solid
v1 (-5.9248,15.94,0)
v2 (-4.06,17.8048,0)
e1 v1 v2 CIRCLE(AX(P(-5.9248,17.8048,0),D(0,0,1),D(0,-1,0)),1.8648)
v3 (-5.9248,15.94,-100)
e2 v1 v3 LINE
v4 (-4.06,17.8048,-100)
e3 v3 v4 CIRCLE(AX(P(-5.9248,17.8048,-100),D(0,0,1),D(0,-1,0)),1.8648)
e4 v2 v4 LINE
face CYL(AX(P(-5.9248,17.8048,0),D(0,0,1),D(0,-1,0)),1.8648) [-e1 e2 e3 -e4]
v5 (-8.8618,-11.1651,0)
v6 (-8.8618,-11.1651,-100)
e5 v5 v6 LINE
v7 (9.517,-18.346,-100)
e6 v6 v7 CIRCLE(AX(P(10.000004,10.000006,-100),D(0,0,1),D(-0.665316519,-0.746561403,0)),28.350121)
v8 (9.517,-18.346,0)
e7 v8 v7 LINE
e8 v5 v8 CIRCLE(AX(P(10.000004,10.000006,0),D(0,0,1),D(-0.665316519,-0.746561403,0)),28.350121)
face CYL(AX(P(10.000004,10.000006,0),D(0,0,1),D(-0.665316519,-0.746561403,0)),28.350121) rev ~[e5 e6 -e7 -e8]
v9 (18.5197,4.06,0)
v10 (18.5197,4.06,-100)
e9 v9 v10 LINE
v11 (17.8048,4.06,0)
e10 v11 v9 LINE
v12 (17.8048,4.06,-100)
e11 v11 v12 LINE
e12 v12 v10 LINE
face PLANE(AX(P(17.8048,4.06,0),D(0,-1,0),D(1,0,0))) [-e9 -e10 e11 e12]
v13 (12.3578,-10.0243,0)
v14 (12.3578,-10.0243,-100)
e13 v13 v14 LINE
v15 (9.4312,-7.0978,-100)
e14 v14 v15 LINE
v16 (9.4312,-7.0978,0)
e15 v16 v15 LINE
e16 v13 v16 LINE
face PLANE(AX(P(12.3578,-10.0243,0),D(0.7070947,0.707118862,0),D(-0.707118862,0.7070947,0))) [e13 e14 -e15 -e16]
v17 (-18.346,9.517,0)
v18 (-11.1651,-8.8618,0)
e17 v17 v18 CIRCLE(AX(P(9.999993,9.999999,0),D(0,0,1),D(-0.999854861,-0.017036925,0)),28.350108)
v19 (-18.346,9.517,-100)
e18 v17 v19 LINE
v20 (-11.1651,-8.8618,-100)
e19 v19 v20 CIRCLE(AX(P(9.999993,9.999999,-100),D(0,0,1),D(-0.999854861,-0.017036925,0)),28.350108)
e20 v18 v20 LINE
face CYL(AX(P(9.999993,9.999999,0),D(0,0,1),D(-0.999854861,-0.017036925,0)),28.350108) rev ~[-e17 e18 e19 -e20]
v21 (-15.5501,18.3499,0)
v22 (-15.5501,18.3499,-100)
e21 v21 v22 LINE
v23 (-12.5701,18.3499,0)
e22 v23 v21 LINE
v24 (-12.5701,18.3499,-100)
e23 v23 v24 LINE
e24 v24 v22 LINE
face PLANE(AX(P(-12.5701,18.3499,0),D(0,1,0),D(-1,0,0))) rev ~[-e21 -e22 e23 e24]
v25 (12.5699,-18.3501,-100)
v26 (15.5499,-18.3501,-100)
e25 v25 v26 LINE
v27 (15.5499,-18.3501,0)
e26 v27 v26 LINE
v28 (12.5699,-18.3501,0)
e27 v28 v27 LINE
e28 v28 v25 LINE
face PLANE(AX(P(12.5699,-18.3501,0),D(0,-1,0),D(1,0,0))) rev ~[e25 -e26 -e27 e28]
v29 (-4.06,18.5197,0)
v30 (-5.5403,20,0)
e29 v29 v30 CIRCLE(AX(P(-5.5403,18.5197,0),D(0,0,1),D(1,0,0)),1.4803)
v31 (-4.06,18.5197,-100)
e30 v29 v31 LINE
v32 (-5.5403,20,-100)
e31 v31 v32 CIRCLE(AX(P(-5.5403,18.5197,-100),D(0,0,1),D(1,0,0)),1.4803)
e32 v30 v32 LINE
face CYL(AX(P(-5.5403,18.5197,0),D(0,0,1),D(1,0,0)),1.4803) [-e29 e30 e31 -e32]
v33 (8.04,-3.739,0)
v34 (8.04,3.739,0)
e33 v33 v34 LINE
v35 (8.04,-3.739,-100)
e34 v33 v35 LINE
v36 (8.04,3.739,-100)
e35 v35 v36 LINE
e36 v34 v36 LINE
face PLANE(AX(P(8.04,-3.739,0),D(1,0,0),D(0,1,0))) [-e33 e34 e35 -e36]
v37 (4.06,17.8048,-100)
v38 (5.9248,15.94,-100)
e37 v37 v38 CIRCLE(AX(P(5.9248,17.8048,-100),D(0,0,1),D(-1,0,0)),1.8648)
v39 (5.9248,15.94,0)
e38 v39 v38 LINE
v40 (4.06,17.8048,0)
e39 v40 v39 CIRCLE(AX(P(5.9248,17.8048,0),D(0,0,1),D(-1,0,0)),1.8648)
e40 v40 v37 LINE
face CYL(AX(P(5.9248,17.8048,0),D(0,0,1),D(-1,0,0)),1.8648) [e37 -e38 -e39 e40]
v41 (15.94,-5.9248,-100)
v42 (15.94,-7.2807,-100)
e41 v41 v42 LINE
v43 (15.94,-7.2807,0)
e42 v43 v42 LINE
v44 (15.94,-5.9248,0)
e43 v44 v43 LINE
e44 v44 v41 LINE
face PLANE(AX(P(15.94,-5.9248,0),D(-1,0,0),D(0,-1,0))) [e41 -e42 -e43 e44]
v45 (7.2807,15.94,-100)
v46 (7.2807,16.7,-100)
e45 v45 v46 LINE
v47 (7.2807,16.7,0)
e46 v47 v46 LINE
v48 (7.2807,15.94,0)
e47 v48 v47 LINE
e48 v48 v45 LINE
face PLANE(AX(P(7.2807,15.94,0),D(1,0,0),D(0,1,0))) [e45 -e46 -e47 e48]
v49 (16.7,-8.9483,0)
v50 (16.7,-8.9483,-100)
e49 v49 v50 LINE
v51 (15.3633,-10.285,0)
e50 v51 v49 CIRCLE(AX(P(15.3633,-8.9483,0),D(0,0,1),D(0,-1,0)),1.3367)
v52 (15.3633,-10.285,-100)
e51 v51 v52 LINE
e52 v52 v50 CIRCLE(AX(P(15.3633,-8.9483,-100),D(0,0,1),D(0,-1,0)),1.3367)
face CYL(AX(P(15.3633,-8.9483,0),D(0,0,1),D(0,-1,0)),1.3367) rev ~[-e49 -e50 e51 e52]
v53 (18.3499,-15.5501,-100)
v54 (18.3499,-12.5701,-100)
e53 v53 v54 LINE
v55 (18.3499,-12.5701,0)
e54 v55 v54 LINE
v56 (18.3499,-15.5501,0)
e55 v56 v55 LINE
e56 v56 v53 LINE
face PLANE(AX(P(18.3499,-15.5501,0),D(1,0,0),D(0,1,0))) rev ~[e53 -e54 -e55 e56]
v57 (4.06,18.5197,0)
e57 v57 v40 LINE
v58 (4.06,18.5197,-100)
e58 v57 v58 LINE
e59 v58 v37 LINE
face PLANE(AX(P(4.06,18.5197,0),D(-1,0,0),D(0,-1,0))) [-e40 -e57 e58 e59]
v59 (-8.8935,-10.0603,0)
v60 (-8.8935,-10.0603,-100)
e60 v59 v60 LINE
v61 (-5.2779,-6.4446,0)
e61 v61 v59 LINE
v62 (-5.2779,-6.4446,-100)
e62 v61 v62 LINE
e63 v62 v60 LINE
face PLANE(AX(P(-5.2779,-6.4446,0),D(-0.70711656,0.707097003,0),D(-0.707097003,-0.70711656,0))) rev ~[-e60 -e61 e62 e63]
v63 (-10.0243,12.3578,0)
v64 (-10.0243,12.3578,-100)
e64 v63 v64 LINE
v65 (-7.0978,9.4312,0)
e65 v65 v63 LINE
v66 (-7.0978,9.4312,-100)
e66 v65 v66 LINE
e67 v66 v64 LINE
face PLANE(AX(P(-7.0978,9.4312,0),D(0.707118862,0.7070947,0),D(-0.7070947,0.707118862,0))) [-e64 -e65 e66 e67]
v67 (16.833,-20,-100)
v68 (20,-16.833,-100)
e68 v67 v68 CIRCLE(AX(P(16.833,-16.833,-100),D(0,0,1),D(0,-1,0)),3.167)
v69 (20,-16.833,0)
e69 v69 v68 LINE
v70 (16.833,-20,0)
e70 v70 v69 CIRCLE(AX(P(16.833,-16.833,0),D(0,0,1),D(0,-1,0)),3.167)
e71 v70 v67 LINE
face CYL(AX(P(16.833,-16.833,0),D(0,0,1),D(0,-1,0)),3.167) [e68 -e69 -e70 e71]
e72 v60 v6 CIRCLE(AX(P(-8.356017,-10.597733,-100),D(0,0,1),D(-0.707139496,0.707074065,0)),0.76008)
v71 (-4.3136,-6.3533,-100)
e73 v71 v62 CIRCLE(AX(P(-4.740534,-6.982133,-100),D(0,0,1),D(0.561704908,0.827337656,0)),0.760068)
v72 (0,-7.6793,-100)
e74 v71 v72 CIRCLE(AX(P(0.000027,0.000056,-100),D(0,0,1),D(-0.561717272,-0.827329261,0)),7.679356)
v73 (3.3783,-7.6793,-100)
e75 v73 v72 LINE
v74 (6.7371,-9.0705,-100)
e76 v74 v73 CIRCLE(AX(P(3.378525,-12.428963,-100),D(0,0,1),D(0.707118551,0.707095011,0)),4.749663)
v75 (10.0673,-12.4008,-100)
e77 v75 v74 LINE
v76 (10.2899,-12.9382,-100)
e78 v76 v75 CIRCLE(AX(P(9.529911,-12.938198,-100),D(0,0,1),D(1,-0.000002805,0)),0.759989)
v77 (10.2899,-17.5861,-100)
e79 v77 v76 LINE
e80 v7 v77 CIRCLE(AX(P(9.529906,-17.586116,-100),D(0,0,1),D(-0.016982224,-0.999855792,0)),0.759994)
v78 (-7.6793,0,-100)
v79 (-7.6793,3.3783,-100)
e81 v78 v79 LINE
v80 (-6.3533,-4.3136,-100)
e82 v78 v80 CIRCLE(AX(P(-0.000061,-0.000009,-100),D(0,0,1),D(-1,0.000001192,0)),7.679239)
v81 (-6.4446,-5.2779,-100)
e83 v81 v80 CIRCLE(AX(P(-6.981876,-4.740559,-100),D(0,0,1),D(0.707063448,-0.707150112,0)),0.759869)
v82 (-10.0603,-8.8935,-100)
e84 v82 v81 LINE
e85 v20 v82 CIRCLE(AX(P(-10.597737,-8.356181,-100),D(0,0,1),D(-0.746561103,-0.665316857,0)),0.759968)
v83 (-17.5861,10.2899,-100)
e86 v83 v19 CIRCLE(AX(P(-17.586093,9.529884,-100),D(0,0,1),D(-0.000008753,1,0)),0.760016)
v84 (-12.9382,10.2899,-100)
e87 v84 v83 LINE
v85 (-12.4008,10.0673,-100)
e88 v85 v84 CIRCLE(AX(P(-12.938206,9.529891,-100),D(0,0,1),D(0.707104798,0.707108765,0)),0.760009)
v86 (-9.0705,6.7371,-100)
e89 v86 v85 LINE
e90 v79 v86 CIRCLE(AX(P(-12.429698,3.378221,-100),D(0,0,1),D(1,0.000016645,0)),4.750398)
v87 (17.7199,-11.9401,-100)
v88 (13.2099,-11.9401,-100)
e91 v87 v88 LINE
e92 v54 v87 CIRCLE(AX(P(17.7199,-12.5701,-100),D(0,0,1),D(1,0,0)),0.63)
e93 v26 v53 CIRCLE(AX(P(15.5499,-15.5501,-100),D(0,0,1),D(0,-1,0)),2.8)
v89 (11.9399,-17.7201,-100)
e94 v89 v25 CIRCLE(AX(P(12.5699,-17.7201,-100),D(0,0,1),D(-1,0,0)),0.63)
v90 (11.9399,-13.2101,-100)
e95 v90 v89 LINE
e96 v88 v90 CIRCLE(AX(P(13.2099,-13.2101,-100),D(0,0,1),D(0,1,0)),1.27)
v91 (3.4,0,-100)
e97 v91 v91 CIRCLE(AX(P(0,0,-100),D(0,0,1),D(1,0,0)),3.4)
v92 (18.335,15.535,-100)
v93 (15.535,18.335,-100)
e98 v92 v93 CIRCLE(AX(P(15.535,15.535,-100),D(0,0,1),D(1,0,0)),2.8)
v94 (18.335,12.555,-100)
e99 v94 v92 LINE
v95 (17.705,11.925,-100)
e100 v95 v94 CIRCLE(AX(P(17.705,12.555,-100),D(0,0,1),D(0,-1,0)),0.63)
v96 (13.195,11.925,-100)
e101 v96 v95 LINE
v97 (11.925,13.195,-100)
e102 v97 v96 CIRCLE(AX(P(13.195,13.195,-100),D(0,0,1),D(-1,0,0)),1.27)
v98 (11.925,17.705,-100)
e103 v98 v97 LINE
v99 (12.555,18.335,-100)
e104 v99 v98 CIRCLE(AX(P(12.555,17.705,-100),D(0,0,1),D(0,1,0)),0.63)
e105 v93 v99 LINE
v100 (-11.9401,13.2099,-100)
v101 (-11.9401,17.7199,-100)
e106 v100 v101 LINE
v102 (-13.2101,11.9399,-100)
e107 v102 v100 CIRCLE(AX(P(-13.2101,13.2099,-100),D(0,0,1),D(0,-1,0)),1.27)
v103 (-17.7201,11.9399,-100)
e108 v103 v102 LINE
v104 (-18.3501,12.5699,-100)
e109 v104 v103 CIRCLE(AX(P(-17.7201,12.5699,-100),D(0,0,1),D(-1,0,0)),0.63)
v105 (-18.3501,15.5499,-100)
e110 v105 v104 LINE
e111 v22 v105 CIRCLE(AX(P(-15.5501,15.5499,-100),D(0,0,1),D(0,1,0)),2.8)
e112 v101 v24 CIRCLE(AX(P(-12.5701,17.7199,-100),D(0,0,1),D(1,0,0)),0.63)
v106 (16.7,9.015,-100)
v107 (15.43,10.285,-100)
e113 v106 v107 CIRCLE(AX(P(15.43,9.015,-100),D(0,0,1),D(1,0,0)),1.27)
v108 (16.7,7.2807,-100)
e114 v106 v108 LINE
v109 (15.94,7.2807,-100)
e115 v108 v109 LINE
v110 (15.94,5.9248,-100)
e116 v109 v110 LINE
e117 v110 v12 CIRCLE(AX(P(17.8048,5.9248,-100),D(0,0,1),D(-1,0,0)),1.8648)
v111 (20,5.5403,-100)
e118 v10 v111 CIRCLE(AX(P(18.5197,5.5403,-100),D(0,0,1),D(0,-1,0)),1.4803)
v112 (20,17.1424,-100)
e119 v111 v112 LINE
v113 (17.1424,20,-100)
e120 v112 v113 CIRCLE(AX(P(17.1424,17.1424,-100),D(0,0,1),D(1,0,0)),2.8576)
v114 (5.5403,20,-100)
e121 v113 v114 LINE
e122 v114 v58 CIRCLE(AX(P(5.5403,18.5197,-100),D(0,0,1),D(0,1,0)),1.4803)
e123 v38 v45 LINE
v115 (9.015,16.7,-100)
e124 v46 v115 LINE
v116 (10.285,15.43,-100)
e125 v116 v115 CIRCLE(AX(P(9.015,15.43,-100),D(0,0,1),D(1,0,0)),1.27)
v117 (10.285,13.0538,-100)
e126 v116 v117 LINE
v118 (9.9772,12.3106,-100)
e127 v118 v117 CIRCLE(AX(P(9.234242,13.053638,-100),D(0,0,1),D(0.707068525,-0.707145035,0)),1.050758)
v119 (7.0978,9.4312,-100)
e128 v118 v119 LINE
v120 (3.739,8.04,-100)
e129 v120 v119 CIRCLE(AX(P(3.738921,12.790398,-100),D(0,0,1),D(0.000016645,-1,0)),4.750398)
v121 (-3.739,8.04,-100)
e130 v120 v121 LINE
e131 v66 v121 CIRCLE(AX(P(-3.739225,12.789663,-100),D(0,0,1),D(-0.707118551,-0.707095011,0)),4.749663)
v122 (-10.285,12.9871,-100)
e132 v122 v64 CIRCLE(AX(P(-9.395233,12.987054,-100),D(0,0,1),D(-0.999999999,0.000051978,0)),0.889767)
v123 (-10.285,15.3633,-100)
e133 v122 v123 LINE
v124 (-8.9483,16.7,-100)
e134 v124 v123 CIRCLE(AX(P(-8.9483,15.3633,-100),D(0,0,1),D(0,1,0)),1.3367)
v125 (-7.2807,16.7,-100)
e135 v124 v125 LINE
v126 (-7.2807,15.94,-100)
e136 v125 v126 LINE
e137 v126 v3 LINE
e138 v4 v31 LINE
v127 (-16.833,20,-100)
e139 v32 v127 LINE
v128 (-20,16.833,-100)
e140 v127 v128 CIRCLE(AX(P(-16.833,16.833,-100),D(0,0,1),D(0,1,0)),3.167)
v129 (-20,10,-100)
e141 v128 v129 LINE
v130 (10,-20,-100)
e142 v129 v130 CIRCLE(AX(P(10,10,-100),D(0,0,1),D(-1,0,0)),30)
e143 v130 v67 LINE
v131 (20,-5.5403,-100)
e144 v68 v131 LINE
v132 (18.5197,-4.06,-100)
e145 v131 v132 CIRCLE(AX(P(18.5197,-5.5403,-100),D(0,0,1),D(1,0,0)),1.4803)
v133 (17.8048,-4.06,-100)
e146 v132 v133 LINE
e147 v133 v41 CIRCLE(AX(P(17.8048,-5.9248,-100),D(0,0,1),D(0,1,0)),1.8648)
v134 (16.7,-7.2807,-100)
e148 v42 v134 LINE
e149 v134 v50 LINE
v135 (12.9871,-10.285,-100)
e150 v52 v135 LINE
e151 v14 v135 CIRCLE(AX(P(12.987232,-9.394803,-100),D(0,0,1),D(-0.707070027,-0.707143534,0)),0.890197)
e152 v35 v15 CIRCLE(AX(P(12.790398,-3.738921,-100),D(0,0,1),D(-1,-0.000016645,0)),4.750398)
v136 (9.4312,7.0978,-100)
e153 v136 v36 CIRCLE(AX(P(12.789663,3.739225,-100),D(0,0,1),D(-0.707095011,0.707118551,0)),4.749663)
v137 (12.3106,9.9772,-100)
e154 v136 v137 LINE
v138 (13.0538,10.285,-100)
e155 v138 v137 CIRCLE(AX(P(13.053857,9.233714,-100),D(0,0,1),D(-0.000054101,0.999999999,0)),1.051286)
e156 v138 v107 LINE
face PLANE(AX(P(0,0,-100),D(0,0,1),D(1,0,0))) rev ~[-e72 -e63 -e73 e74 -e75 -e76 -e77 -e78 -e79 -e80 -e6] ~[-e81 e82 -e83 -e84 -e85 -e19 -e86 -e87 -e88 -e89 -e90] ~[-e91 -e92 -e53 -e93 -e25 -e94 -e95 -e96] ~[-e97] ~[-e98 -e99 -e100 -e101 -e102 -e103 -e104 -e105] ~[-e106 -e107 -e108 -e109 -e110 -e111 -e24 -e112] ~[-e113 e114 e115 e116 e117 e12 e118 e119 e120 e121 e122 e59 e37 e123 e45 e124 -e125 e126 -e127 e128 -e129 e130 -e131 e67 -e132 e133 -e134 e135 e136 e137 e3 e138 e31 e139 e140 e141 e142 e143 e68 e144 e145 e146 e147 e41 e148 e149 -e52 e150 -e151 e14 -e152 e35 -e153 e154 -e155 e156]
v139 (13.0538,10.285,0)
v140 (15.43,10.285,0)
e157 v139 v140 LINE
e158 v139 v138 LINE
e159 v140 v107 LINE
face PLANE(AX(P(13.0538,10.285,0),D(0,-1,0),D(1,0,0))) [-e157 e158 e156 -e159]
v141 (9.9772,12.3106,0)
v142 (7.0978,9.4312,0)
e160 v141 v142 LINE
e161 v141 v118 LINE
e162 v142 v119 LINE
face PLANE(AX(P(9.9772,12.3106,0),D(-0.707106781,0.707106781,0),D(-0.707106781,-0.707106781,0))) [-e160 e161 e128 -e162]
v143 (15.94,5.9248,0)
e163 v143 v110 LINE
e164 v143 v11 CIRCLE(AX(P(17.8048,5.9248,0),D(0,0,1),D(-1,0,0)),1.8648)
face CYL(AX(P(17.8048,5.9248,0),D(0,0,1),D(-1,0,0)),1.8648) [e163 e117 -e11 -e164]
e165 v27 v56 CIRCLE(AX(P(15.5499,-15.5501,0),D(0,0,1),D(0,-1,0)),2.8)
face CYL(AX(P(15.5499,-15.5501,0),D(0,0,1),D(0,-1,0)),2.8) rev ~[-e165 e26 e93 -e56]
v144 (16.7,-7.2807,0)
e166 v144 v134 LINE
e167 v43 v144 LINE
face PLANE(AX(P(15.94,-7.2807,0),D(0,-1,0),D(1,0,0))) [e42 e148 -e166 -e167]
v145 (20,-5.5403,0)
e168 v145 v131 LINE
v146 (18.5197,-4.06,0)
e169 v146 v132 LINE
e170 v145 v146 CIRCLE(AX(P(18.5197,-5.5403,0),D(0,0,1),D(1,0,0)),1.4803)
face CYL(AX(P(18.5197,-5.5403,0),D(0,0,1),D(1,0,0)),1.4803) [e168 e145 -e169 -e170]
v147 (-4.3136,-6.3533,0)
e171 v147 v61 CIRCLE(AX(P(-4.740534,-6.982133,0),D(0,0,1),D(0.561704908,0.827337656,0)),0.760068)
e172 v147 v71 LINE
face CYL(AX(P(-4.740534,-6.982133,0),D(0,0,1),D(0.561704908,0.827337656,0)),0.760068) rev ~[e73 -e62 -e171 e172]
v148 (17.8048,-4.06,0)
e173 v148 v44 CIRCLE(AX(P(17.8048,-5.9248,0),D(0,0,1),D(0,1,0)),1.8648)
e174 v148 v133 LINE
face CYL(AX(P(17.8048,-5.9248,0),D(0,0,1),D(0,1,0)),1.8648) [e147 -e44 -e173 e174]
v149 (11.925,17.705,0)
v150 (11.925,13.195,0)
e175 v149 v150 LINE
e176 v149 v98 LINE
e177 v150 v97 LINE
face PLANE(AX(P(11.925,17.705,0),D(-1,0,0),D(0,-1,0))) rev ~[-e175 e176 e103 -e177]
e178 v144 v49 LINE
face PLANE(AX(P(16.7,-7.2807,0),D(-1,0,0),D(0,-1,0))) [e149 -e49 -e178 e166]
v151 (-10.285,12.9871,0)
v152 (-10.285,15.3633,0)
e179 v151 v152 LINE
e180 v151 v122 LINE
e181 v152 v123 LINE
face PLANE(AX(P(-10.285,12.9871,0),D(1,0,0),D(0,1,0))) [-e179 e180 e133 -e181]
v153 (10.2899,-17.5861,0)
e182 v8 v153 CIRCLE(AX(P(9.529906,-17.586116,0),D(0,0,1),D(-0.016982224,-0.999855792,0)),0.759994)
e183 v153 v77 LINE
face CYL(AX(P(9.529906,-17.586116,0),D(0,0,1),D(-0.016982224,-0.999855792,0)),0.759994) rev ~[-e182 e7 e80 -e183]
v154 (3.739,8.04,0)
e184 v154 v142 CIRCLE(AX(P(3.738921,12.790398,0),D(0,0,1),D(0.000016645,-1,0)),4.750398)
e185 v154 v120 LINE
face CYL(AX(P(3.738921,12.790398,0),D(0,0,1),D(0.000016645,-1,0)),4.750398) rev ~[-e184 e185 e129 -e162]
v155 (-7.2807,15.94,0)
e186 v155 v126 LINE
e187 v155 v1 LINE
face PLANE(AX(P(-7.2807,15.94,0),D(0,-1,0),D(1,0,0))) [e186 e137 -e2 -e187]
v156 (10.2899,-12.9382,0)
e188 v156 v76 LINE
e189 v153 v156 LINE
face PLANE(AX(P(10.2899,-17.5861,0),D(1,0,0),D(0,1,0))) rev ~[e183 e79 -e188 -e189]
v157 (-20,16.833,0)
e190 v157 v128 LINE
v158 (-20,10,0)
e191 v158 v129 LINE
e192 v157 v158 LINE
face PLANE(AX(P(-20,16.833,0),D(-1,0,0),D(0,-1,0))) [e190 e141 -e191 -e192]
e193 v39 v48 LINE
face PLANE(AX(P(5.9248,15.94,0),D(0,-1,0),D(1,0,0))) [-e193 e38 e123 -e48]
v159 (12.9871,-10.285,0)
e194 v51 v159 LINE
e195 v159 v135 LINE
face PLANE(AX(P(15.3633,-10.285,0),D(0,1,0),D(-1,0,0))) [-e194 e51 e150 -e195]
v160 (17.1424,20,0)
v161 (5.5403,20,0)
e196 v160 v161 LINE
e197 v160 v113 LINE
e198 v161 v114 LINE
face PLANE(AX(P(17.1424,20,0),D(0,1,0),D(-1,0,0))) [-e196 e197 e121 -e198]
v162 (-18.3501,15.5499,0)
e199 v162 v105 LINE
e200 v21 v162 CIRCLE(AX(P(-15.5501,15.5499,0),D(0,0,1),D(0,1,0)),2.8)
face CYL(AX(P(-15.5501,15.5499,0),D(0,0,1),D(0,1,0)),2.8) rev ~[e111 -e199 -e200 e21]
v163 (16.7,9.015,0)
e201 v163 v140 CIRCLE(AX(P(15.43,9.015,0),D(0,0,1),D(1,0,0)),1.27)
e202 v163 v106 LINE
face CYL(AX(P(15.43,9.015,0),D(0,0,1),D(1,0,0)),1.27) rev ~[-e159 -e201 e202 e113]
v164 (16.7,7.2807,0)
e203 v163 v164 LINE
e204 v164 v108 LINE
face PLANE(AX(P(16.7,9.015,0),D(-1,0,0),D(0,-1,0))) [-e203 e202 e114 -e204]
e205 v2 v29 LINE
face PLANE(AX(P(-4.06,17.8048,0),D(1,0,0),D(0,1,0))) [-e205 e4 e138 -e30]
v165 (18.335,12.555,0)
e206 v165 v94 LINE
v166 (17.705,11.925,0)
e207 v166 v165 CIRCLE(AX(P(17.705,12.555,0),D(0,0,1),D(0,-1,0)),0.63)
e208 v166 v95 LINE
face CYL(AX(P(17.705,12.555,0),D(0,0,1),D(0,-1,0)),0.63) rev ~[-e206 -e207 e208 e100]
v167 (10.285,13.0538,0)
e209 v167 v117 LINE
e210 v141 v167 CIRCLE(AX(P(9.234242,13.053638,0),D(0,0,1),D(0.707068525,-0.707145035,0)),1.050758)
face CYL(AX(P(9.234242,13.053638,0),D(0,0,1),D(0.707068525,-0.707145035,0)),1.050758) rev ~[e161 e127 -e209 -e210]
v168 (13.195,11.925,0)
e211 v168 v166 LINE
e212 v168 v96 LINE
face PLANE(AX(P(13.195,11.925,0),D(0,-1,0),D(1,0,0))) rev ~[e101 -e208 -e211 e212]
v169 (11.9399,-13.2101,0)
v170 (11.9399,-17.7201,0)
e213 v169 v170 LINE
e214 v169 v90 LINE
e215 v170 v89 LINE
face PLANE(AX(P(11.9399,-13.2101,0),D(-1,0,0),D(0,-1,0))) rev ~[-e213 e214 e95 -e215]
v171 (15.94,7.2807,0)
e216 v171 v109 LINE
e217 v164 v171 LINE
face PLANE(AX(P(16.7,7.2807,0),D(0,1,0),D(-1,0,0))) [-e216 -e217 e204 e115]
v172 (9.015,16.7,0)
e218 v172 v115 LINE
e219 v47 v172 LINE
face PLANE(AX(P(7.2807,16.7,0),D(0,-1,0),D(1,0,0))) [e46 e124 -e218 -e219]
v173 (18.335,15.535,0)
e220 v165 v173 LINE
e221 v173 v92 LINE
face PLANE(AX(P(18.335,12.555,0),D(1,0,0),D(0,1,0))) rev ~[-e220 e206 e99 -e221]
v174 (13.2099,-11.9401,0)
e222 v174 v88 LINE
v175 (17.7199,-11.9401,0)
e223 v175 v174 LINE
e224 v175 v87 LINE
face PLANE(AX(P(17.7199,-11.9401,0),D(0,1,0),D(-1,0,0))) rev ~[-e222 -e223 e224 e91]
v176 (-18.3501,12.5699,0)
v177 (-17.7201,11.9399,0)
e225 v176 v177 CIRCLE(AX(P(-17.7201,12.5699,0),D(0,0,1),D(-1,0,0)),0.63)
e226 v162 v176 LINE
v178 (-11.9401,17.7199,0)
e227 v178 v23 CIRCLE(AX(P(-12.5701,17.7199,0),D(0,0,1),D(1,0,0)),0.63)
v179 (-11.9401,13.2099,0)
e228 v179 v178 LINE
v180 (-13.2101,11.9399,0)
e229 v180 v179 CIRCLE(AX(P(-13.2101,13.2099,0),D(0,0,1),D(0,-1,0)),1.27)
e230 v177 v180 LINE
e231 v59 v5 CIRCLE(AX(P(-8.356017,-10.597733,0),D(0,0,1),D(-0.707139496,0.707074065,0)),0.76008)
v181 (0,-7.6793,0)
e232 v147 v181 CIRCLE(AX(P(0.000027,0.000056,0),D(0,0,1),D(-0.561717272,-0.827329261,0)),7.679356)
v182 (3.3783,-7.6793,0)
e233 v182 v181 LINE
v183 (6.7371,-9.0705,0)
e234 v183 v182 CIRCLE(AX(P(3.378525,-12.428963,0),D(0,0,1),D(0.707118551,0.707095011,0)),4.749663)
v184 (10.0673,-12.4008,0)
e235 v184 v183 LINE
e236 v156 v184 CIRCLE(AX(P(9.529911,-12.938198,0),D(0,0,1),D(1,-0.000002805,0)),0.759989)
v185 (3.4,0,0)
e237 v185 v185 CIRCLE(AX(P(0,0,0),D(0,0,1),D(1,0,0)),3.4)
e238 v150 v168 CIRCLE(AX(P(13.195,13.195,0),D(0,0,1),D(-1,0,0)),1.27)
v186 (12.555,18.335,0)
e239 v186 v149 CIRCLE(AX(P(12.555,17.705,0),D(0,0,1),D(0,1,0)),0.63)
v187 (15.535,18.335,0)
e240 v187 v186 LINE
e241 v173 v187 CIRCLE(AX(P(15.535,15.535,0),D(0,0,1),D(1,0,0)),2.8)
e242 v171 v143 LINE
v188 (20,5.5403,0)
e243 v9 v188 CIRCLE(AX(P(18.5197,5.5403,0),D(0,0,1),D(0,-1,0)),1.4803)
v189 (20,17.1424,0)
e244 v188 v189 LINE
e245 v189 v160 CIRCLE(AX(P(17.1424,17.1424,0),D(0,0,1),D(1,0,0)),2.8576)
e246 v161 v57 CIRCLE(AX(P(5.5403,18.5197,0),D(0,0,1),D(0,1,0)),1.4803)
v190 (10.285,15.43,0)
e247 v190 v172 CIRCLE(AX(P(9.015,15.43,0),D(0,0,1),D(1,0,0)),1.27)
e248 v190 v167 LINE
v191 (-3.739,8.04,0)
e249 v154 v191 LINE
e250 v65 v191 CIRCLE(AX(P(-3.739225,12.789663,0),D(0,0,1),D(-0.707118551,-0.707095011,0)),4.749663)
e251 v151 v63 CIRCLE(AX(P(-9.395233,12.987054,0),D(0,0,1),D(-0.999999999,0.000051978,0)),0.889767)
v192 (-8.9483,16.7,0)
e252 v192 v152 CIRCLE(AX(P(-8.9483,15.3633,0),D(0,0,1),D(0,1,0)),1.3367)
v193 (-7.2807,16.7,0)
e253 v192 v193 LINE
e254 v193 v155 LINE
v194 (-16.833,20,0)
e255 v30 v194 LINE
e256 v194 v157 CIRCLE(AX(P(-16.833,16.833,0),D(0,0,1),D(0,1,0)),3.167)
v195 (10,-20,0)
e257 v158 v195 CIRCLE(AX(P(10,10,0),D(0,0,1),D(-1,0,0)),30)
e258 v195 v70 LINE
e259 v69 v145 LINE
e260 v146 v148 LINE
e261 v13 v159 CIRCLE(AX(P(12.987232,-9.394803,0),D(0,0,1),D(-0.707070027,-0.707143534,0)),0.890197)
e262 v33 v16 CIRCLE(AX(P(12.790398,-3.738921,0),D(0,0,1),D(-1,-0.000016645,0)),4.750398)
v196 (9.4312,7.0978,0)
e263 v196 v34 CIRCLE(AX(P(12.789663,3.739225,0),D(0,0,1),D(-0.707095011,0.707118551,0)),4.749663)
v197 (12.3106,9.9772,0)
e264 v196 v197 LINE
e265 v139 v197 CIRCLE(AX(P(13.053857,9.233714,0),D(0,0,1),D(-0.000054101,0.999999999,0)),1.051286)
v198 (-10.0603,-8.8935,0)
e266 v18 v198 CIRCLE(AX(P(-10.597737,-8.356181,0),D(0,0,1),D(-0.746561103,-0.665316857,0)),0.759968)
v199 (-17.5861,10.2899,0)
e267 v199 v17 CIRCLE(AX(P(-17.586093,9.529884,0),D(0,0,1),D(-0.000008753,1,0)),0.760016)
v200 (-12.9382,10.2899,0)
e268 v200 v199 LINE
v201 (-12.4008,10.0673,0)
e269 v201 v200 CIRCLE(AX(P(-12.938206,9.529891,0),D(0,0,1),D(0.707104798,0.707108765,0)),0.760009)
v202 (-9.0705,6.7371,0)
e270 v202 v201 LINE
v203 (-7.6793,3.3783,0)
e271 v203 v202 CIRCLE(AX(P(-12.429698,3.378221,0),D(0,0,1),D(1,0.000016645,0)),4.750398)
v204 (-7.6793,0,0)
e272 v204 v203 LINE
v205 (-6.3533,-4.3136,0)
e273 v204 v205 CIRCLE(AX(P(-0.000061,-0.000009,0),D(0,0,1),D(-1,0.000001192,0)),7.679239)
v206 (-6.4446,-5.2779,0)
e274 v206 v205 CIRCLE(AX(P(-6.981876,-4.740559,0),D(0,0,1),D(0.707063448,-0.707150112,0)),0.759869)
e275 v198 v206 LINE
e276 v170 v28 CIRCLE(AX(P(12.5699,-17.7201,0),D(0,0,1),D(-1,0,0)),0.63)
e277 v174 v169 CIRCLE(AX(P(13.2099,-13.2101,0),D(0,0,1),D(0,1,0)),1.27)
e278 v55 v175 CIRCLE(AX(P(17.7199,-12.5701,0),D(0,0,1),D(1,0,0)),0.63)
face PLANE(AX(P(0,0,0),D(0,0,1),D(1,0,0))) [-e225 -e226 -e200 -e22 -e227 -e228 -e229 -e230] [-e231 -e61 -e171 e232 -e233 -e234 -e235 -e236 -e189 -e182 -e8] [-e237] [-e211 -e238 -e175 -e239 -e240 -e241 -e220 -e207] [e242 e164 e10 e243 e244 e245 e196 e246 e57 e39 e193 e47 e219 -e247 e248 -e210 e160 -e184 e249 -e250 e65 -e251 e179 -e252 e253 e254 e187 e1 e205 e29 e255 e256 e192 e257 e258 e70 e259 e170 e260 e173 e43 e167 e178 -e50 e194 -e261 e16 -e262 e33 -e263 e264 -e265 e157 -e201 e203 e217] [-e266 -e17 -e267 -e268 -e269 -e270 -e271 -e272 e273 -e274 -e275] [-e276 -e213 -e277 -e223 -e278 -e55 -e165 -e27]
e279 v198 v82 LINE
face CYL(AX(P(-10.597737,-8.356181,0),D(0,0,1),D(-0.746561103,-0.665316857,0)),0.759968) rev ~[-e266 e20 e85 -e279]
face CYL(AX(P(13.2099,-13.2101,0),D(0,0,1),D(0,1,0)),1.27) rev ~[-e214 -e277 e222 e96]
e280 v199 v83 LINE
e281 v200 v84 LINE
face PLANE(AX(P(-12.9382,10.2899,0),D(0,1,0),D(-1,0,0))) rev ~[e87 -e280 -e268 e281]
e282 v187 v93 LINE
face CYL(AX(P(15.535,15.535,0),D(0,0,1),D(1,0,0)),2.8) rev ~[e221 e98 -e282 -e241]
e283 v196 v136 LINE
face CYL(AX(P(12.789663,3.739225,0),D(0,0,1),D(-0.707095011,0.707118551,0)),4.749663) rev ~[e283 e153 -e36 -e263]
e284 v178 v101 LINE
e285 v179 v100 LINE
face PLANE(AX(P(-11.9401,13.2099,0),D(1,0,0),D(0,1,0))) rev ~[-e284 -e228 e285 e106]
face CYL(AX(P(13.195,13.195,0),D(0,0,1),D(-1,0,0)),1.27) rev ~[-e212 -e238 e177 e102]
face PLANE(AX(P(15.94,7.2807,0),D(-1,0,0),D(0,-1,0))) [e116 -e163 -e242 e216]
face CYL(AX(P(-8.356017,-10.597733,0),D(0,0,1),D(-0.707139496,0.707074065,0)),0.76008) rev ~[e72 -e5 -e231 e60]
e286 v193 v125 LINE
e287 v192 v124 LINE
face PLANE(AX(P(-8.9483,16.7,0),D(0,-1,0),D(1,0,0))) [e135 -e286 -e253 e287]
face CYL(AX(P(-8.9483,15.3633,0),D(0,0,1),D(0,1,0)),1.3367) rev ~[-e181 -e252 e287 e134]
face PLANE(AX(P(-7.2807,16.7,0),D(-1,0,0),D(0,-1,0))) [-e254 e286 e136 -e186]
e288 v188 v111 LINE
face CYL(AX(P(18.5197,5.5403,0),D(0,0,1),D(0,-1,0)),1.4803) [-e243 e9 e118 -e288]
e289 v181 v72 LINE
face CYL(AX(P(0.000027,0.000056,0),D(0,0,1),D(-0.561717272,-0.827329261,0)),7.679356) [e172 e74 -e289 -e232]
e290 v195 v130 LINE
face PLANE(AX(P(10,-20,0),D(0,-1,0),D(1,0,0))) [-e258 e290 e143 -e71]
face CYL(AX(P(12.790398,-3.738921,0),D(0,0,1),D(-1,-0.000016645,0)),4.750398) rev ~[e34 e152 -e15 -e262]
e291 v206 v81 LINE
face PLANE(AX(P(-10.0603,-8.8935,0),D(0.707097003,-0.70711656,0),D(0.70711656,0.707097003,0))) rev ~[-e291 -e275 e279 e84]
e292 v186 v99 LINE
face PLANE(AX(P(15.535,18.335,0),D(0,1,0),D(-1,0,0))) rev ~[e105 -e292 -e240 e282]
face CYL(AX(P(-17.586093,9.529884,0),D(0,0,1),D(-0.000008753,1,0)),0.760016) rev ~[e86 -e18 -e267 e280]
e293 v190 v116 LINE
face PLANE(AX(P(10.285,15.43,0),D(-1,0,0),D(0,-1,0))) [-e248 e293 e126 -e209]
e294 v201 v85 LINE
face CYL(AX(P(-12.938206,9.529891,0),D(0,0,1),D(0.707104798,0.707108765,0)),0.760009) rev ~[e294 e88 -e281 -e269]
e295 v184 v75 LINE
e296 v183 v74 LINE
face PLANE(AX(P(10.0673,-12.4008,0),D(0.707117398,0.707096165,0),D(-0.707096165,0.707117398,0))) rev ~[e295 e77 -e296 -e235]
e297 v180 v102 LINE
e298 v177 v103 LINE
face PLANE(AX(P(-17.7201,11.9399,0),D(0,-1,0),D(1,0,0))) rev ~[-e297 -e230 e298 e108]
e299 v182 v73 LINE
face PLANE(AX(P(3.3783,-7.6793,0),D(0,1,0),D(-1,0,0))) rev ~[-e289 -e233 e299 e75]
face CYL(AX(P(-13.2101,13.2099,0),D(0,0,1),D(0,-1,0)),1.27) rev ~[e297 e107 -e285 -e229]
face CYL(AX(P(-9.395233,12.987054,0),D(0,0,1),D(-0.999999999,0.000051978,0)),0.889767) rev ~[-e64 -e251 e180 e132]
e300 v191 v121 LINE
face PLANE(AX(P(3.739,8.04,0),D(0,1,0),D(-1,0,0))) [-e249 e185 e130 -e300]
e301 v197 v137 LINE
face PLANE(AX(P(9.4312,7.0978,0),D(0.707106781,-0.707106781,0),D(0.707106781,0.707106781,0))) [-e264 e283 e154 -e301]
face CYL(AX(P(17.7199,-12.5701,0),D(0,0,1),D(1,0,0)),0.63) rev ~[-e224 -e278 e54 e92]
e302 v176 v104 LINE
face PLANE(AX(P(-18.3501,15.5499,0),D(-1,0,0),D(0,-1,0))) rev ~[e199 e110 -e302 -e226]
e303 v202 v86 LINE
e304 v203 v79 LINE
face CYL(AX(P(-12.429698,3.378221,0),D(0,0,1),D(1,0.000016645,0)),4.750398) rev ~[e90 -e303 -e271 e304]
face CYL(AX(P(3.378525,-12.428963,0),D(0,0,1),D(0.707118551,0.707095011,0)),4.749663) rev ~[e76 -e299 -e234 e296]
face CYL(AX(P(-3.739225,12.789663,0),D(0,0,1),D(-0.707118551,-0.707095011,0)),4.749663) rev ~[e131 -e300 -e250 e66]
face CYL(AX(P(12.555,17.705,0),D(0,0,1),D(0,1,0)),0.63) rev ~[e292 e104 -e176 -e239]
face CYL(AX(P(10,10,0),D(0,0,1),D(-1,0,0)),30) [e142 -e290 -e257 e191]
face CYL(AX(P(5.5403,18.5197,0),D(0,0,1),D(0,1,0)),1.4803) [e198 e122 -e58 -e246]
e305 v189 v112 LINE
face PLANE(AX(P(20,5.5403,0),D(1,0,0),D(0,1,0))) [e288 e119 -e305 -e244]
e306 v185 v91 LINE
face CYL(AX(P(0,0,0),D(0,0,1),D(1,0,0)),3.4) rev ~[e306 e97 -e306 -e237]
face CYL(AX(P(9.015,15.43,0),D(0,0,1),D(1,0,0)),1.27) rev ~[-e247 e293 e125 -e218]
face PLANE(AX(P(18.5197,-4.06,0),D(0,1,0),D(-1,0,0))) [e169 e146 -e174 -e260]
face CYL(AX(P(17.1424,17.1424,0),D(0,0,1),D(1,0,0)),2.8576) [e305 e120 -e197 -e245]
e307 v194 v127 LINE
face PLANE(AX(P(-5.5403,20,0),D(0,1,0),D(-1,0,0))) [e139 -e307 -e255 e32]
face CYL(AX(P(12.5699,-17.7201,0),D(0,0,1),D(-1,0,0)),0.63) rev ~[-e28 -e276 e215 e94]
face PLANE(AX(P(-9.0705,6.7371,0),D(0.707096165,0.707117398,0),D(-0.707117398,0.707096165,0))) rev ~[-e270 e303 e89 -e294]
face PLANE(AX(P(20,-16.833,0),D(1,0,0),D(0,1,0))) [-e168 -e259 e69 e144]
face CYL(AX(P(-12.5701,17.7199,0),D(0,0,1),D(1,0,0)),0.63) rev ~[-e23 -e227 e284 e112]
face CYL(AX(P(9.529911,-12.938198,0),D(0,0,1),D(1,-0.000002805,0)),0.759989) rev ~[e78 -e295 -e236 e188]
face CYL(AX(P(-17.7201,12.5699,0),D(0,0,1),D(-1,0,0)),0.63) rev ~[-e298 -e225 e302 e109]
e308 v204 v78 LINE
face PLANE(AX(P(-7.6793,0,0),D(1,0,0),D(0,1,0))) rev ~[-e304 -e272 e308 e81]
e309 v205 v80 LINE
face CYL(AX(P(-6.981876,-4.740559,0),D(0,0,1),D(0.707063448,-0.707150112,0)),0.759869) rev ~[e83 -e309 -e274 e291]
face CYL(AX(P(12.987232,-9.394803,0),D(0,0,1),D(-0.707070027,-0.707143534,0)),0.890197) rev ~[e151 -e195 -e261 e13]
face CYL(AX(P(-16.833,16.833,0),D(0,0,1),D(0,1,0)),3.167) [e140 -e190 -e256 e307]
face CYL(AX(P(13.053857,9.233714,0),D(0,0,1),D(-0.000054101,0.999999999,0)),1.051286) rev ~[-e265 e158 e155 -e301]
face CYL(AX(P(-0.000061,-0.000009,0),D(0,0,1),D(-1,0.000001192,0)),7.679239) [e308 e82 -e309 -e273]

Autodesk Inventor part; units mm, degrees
ref_plane "YZ Plane" through (0, 0, 0) normal (1, 0, 0) x (0, 1, 0)
ref_plane "XZ Plane" through (0, 0, 0) normal (0, 1, 0) x (-1, 0, 0)
ref_plane "XY Plane" through (0, 0, 0) normal (0, 0, 1) x (1, 0, 0)
sketch "Sketch1" plane through (0, 0, 0) normal (0, 0, 1) x (1, 0, 0)
  arc A0 (-8.8618, -11.1651) -> (9.517, -18.346) centre (10, 10) ccw
  arc A1 (-8.8935, -10.0603) -> (-8.8618, -11.1651) centre (-8.3561, -10.5977) ccw
  line L0 (-5.2779, -6.4446) -> (-8.8935, -10.0603)
  arc A2 (-4.3136, -6.3533) -> (-5.2779, -6.4446) centre (-4.7405, -6.982) ccw
  arc A3 (-4.3136, -6.3533) -> (0, -7.6793) centre (0, 0) ccw
  line L1 (3.3783, -7.6793) -> (0, -7.6793)
  arc A4 (6.7371, -9.0705) -> (3.3783, -7.6793) centre (3.3783, -12.4293) ccw
  line L2 (10.0673, -12.4008) -> (6.7371, -9.0705)
  arc A5 (10.2899, -12.9382) -> (10.0673, -12.4008) centre (9.5299, -12.9382) ccw
  line L3 (10.2899, -17.5861) -> (10.2899, -12.9382)
  arc A6 (9.517, -18.346) -> (10.2899, -17.5861) centre (9.5299, -17.5861) ccw
  line L4 (11.9399, -13.2101) -> (11.9399, -17.7201)
  arc A7 (13.2099, -11.9401) -> (11.9399, -13.2101) centre (13.2099, -13.2101) ccw
  line L5 (17.7199, -11.9401) -> (13.2099, -11.9401)
  arc A8 (18.3499, -12.5701) -> (17.7199, -11.9401) centre (17.7199, -12.5701) ccw
  line L6 (18.3499, -15.5501) -> (18.3499, -12.5701)
  arc A9 (15.5499, -18.3501) -> (18.3499, -15.5501) centre (15.5499, -15.5501) ccw
  line L7 (12.5699, -18.3501) -> (15.5499, -18.3501)
  arc A10 (11.9399, -17.7201) -> (12.5699, -18.3501) centre (12.5699, -17.7201) ccw
  line L8 (-11.9401, 13.2099) -> (-11.9401, 17.7199)
  arc A11 (-13.2101, 11.9399) -> (-11.9401, 13.2099) centre (-13.2101, 13.2099) ccw
  line L9 (-17.7201, 11.9399) -> (-13.2101, 11.9399)
  arc A12 (-18.3501, 12.5699) -> (-17.7201, 11.9399) centre (-17.7201, 12.5699) ccw
  line L10 (-18.3501, 15.5499) -> (-18.3501, 12.5699)
  arc A13 (-15.5501, 18.3499) -> (-18.3501, 15.5499) centre (-15.5501, 15.5499) ccw
  line L11 (-12.5701, 18.3499) -> (-15.5501, 18.3499)
  arc A14 (-11.9401, 17.7199) -> (-12.5701, 18.3499) centre (-12.5701, 17.7199) ccw
  line L12 (-9.0705, 6.7371) -> (-12.4008, 10.0673)
  arc A15 (-7.6793, 3.3783) -> (-9.0705, 6.7371) centre (-12.4293, 3.3783) ccw
  line L13 (-7.6793, 0) -> (-7.6793, 3.3783)
  arc A16 (-7.6793, 0) -> (-6.3533, -4.3136) centre (0, 0) ccw
  arc A17 (-6.4446, -5.2779) -> (-6.3533, -4.3136) centre (-6.982, -4.7405) ccw
  line L14 (-10.0603, -8.8935) -> (-6.4446, -5.2779)
  arc A18 (-11.1651, -8.8618) -> (-10.0603, -8.8935) centre (-10.5977, -8.3561) ccw
  arc A19 (-18.346, 9.517) -> (-11.1651, -8.8618) centre (10, 10) ccw
  arc A20 (-17.5861, 10.2899) -> (-18.346, 9.517) centre (-17.5861, 9.5299) ccw
  line L15 (-12.9382, 10.2899) -> (-17.5861, 10.2899)
  arc A21 (-12.4008, 10.0673) -> (-12.9382, 10.2899) centre (-12.9382, 9.5299) ccw
  circle A22 centre (0, 0) radius 3.4
  line L16 (13.195, 11.925) -> (17.705, 11.925)
  arc A23 (11.925, 13.195) -> (13.195, 11.925) centre (13.195, 13.195) ccw
  line L17 (11.925, 17.705) -> (11.925, 13.195)
  arc A24 (12.555, 18.335) -> (11.925, 17.705) centre (12.555, 17.705) ccw
  line L18 (15.535, 18.335) -> (12.555, 18.335)
  arc A25 (18.335, 15.535) -> (15.535, 18.335) centre (15.535, 15.535) ccw
  line L19 (18.335, 12.555) -> (18.335, 15.535)
  arc A26 (17.705, 11.925) -> (18.335, 12.555) centre (17.705, 12.555) ccw
  arc A27 (20, 17.1424) -> (17.1424, 20) centre (17.1424, 17.1424) ccw
  line L20 (17.1424, 20) -> (5.5403, 20)
  arc A28 (5.5403, 20) -> (4.06, 18.5197) centre (5.5403, 18.5197) ccw
  line L21 (4.06, 18.5197) -> (4.06, 17.8048)
  arc A29 (4.06, 17.8048) -> (5.9248, 15.94) centre (5.9248, 17.8048) ccw
  line L22 (5.9248, 15.94) -> (7.2807, 15.94)
  line L23 (7.2807, 15.94) -> (7.2807, 16.7)
  line L24 (7.2807, 16.7) -> (9.015, 16.7)
  arc A30 (10.285, 15.43) -> (9.015, 16.7) centre (9.015, 15.43) ccw
  line L25 (10.285, 15.43) -> (10.285, 13.0538)
  arc A31 (9.9772, 12.3106) -> (10.285, 13.0538) centre (9.234, 13.0538) ccw
  line L26 (9.9772, 12.3106) -> (7.0978, 9.4312)
  arc A32 (3.739, 8.04) -> (7.0978, 9.4312) centre (3.739, 12.79) ccw
  line L27 (3.739, 8.04) -> (-3.739, 8.04)
  arc A33 (-7.0978, 9.4312) -> (-3.739, 8.04) centre (-3.739, 12.79) ccw
  line L28 (-7.0978, 9.4312) -> (-10.0243, 12.3578)
  arc A34 (-10.285, 12.9871) -> (-10.0243, 12.3578) centre (-9.395, 12.9871) ccw
  line L29 (-10.285, 12.9871) -> (-10.285, 15.3633)
  arc A35 (-8.9483, 16.7) -> (-10.285, 15.3633) centre (-8.9483, 15.3633) ccw
  line L30 (-8.9483, 16.7) -> (-7.2807, 16.7)
  line L31 (-7.2807, 16.7) -> (-7.2807, 15.94)
  line L32 (-7.2807, 15.94) -> (-5.9248, 15.94)
  arc A36 (-5.9248, 15.94) -> (-4.06, 17.8048) centre (-5.9248, 17.8048) ccw
  line L33 (-4.06, 17.8048) -> (-4.06, 18.5197)
  arc A37 (-4.06, 18.5197) -> (-5.5403, 20) centre (-5.5403, 18.5197) ccw
  line L34 (-5.5403, 20) -> (-16.833, 20)
  arc A38 (-16.833, 20) -> (-20, 16.833) centre (-16.833, 16.833) ccw
  line L35 (-20, 16.833) -> (-20, 10)
  arc A39 (-20, 10) -> (10, -20) centre (10, 10) ccw
  line L36 (10, -20) -> (16.833, -20)
  arc A40 (16.833, -20) -> (20, -16.833) centre (16.833, -16.833) ccw
  line L37 (20, -16.833) -> (20, -5.5403)
  arc A41 (20, -5.5403) -> (18.5197, -4.06) centre (18.5197, -5.5403) ccw
  line L38 (18.5197, -4.06) -> (17.8048, -4.06)
  arc A42 (17.8048, -4.06) -> (15.94, -5.9248) centre (17.8048, -5.9248) ccw
  line L39 (15.94, -5.9248) -> (15.94, -7.2807)
  line L40 (15.94, -7.2807) -> (16.7, -7.2807)
  line L41 (16.7, -7.2807) -> (16.7, -8.9483)
  arc A43 (15.3633, -10.285) -> (16.7, -8.9483) centre (15.3633, -8.9483) ccw
  line L42 (15.3633, -10.285) -> (12.9871, -10.285)
  arc A44 (12.3578, -10.0243) -> (12.9871, -10.285) centre (12.9871, -9.395) ccw
  line L43 (12.3578, -10.0243) -> (9.4312, -7.0978)
  arc A45 (8.04, -3.739) -> (9.4312, -7.0978) centre (12.79, -3.739) ccw
  line L44 (8.04, -3.739) -> (8.04, 3.739)
  arc A46 (9.4312, 7.0978) -> (8.04, 3.739) centre (12.79, 3.739) ccw
  line L45 (9.4312, 7.0978) -> (12.3106, 9.9772)
  arc A47 (13.0538, 10.285) -> (12.3106, 9.9772) centre (13.0538, 9.234) ccw
  line L46 (13.0538, 10.285) -> (15.43, 10.285)
  arc A48 (16.7, 9.015) -> (15.43, 10.285) centre (15.43, 9.015) ccw
  line L47 (16.7, 9.015) -> (16.7, 7.2807)
  line L48 (16.7, 7.2807) -> (15.94, 7.2807)
  line L49 (15.94, 7.2807) -> (15.94, 5.9248)
  arc A49 (15.94, 5.9248) -> (17.8048, 4.06) centre (17.8048, 5.9248) ccw
  line L50 (17.8048, 4.06) -> (18.5197, 4.06)
  arc A50 (18.5197, 4.06) -> (20, 5.5403) centre (18.5197, 5.5403) ccw
  line L51 (20, 5.5403) -> (20, 17.1424)
extrude "Extrusion1" add sketch "Sketch1" against normal blind 100
properties part number "40-4030-LITE-BLACK-FB"
